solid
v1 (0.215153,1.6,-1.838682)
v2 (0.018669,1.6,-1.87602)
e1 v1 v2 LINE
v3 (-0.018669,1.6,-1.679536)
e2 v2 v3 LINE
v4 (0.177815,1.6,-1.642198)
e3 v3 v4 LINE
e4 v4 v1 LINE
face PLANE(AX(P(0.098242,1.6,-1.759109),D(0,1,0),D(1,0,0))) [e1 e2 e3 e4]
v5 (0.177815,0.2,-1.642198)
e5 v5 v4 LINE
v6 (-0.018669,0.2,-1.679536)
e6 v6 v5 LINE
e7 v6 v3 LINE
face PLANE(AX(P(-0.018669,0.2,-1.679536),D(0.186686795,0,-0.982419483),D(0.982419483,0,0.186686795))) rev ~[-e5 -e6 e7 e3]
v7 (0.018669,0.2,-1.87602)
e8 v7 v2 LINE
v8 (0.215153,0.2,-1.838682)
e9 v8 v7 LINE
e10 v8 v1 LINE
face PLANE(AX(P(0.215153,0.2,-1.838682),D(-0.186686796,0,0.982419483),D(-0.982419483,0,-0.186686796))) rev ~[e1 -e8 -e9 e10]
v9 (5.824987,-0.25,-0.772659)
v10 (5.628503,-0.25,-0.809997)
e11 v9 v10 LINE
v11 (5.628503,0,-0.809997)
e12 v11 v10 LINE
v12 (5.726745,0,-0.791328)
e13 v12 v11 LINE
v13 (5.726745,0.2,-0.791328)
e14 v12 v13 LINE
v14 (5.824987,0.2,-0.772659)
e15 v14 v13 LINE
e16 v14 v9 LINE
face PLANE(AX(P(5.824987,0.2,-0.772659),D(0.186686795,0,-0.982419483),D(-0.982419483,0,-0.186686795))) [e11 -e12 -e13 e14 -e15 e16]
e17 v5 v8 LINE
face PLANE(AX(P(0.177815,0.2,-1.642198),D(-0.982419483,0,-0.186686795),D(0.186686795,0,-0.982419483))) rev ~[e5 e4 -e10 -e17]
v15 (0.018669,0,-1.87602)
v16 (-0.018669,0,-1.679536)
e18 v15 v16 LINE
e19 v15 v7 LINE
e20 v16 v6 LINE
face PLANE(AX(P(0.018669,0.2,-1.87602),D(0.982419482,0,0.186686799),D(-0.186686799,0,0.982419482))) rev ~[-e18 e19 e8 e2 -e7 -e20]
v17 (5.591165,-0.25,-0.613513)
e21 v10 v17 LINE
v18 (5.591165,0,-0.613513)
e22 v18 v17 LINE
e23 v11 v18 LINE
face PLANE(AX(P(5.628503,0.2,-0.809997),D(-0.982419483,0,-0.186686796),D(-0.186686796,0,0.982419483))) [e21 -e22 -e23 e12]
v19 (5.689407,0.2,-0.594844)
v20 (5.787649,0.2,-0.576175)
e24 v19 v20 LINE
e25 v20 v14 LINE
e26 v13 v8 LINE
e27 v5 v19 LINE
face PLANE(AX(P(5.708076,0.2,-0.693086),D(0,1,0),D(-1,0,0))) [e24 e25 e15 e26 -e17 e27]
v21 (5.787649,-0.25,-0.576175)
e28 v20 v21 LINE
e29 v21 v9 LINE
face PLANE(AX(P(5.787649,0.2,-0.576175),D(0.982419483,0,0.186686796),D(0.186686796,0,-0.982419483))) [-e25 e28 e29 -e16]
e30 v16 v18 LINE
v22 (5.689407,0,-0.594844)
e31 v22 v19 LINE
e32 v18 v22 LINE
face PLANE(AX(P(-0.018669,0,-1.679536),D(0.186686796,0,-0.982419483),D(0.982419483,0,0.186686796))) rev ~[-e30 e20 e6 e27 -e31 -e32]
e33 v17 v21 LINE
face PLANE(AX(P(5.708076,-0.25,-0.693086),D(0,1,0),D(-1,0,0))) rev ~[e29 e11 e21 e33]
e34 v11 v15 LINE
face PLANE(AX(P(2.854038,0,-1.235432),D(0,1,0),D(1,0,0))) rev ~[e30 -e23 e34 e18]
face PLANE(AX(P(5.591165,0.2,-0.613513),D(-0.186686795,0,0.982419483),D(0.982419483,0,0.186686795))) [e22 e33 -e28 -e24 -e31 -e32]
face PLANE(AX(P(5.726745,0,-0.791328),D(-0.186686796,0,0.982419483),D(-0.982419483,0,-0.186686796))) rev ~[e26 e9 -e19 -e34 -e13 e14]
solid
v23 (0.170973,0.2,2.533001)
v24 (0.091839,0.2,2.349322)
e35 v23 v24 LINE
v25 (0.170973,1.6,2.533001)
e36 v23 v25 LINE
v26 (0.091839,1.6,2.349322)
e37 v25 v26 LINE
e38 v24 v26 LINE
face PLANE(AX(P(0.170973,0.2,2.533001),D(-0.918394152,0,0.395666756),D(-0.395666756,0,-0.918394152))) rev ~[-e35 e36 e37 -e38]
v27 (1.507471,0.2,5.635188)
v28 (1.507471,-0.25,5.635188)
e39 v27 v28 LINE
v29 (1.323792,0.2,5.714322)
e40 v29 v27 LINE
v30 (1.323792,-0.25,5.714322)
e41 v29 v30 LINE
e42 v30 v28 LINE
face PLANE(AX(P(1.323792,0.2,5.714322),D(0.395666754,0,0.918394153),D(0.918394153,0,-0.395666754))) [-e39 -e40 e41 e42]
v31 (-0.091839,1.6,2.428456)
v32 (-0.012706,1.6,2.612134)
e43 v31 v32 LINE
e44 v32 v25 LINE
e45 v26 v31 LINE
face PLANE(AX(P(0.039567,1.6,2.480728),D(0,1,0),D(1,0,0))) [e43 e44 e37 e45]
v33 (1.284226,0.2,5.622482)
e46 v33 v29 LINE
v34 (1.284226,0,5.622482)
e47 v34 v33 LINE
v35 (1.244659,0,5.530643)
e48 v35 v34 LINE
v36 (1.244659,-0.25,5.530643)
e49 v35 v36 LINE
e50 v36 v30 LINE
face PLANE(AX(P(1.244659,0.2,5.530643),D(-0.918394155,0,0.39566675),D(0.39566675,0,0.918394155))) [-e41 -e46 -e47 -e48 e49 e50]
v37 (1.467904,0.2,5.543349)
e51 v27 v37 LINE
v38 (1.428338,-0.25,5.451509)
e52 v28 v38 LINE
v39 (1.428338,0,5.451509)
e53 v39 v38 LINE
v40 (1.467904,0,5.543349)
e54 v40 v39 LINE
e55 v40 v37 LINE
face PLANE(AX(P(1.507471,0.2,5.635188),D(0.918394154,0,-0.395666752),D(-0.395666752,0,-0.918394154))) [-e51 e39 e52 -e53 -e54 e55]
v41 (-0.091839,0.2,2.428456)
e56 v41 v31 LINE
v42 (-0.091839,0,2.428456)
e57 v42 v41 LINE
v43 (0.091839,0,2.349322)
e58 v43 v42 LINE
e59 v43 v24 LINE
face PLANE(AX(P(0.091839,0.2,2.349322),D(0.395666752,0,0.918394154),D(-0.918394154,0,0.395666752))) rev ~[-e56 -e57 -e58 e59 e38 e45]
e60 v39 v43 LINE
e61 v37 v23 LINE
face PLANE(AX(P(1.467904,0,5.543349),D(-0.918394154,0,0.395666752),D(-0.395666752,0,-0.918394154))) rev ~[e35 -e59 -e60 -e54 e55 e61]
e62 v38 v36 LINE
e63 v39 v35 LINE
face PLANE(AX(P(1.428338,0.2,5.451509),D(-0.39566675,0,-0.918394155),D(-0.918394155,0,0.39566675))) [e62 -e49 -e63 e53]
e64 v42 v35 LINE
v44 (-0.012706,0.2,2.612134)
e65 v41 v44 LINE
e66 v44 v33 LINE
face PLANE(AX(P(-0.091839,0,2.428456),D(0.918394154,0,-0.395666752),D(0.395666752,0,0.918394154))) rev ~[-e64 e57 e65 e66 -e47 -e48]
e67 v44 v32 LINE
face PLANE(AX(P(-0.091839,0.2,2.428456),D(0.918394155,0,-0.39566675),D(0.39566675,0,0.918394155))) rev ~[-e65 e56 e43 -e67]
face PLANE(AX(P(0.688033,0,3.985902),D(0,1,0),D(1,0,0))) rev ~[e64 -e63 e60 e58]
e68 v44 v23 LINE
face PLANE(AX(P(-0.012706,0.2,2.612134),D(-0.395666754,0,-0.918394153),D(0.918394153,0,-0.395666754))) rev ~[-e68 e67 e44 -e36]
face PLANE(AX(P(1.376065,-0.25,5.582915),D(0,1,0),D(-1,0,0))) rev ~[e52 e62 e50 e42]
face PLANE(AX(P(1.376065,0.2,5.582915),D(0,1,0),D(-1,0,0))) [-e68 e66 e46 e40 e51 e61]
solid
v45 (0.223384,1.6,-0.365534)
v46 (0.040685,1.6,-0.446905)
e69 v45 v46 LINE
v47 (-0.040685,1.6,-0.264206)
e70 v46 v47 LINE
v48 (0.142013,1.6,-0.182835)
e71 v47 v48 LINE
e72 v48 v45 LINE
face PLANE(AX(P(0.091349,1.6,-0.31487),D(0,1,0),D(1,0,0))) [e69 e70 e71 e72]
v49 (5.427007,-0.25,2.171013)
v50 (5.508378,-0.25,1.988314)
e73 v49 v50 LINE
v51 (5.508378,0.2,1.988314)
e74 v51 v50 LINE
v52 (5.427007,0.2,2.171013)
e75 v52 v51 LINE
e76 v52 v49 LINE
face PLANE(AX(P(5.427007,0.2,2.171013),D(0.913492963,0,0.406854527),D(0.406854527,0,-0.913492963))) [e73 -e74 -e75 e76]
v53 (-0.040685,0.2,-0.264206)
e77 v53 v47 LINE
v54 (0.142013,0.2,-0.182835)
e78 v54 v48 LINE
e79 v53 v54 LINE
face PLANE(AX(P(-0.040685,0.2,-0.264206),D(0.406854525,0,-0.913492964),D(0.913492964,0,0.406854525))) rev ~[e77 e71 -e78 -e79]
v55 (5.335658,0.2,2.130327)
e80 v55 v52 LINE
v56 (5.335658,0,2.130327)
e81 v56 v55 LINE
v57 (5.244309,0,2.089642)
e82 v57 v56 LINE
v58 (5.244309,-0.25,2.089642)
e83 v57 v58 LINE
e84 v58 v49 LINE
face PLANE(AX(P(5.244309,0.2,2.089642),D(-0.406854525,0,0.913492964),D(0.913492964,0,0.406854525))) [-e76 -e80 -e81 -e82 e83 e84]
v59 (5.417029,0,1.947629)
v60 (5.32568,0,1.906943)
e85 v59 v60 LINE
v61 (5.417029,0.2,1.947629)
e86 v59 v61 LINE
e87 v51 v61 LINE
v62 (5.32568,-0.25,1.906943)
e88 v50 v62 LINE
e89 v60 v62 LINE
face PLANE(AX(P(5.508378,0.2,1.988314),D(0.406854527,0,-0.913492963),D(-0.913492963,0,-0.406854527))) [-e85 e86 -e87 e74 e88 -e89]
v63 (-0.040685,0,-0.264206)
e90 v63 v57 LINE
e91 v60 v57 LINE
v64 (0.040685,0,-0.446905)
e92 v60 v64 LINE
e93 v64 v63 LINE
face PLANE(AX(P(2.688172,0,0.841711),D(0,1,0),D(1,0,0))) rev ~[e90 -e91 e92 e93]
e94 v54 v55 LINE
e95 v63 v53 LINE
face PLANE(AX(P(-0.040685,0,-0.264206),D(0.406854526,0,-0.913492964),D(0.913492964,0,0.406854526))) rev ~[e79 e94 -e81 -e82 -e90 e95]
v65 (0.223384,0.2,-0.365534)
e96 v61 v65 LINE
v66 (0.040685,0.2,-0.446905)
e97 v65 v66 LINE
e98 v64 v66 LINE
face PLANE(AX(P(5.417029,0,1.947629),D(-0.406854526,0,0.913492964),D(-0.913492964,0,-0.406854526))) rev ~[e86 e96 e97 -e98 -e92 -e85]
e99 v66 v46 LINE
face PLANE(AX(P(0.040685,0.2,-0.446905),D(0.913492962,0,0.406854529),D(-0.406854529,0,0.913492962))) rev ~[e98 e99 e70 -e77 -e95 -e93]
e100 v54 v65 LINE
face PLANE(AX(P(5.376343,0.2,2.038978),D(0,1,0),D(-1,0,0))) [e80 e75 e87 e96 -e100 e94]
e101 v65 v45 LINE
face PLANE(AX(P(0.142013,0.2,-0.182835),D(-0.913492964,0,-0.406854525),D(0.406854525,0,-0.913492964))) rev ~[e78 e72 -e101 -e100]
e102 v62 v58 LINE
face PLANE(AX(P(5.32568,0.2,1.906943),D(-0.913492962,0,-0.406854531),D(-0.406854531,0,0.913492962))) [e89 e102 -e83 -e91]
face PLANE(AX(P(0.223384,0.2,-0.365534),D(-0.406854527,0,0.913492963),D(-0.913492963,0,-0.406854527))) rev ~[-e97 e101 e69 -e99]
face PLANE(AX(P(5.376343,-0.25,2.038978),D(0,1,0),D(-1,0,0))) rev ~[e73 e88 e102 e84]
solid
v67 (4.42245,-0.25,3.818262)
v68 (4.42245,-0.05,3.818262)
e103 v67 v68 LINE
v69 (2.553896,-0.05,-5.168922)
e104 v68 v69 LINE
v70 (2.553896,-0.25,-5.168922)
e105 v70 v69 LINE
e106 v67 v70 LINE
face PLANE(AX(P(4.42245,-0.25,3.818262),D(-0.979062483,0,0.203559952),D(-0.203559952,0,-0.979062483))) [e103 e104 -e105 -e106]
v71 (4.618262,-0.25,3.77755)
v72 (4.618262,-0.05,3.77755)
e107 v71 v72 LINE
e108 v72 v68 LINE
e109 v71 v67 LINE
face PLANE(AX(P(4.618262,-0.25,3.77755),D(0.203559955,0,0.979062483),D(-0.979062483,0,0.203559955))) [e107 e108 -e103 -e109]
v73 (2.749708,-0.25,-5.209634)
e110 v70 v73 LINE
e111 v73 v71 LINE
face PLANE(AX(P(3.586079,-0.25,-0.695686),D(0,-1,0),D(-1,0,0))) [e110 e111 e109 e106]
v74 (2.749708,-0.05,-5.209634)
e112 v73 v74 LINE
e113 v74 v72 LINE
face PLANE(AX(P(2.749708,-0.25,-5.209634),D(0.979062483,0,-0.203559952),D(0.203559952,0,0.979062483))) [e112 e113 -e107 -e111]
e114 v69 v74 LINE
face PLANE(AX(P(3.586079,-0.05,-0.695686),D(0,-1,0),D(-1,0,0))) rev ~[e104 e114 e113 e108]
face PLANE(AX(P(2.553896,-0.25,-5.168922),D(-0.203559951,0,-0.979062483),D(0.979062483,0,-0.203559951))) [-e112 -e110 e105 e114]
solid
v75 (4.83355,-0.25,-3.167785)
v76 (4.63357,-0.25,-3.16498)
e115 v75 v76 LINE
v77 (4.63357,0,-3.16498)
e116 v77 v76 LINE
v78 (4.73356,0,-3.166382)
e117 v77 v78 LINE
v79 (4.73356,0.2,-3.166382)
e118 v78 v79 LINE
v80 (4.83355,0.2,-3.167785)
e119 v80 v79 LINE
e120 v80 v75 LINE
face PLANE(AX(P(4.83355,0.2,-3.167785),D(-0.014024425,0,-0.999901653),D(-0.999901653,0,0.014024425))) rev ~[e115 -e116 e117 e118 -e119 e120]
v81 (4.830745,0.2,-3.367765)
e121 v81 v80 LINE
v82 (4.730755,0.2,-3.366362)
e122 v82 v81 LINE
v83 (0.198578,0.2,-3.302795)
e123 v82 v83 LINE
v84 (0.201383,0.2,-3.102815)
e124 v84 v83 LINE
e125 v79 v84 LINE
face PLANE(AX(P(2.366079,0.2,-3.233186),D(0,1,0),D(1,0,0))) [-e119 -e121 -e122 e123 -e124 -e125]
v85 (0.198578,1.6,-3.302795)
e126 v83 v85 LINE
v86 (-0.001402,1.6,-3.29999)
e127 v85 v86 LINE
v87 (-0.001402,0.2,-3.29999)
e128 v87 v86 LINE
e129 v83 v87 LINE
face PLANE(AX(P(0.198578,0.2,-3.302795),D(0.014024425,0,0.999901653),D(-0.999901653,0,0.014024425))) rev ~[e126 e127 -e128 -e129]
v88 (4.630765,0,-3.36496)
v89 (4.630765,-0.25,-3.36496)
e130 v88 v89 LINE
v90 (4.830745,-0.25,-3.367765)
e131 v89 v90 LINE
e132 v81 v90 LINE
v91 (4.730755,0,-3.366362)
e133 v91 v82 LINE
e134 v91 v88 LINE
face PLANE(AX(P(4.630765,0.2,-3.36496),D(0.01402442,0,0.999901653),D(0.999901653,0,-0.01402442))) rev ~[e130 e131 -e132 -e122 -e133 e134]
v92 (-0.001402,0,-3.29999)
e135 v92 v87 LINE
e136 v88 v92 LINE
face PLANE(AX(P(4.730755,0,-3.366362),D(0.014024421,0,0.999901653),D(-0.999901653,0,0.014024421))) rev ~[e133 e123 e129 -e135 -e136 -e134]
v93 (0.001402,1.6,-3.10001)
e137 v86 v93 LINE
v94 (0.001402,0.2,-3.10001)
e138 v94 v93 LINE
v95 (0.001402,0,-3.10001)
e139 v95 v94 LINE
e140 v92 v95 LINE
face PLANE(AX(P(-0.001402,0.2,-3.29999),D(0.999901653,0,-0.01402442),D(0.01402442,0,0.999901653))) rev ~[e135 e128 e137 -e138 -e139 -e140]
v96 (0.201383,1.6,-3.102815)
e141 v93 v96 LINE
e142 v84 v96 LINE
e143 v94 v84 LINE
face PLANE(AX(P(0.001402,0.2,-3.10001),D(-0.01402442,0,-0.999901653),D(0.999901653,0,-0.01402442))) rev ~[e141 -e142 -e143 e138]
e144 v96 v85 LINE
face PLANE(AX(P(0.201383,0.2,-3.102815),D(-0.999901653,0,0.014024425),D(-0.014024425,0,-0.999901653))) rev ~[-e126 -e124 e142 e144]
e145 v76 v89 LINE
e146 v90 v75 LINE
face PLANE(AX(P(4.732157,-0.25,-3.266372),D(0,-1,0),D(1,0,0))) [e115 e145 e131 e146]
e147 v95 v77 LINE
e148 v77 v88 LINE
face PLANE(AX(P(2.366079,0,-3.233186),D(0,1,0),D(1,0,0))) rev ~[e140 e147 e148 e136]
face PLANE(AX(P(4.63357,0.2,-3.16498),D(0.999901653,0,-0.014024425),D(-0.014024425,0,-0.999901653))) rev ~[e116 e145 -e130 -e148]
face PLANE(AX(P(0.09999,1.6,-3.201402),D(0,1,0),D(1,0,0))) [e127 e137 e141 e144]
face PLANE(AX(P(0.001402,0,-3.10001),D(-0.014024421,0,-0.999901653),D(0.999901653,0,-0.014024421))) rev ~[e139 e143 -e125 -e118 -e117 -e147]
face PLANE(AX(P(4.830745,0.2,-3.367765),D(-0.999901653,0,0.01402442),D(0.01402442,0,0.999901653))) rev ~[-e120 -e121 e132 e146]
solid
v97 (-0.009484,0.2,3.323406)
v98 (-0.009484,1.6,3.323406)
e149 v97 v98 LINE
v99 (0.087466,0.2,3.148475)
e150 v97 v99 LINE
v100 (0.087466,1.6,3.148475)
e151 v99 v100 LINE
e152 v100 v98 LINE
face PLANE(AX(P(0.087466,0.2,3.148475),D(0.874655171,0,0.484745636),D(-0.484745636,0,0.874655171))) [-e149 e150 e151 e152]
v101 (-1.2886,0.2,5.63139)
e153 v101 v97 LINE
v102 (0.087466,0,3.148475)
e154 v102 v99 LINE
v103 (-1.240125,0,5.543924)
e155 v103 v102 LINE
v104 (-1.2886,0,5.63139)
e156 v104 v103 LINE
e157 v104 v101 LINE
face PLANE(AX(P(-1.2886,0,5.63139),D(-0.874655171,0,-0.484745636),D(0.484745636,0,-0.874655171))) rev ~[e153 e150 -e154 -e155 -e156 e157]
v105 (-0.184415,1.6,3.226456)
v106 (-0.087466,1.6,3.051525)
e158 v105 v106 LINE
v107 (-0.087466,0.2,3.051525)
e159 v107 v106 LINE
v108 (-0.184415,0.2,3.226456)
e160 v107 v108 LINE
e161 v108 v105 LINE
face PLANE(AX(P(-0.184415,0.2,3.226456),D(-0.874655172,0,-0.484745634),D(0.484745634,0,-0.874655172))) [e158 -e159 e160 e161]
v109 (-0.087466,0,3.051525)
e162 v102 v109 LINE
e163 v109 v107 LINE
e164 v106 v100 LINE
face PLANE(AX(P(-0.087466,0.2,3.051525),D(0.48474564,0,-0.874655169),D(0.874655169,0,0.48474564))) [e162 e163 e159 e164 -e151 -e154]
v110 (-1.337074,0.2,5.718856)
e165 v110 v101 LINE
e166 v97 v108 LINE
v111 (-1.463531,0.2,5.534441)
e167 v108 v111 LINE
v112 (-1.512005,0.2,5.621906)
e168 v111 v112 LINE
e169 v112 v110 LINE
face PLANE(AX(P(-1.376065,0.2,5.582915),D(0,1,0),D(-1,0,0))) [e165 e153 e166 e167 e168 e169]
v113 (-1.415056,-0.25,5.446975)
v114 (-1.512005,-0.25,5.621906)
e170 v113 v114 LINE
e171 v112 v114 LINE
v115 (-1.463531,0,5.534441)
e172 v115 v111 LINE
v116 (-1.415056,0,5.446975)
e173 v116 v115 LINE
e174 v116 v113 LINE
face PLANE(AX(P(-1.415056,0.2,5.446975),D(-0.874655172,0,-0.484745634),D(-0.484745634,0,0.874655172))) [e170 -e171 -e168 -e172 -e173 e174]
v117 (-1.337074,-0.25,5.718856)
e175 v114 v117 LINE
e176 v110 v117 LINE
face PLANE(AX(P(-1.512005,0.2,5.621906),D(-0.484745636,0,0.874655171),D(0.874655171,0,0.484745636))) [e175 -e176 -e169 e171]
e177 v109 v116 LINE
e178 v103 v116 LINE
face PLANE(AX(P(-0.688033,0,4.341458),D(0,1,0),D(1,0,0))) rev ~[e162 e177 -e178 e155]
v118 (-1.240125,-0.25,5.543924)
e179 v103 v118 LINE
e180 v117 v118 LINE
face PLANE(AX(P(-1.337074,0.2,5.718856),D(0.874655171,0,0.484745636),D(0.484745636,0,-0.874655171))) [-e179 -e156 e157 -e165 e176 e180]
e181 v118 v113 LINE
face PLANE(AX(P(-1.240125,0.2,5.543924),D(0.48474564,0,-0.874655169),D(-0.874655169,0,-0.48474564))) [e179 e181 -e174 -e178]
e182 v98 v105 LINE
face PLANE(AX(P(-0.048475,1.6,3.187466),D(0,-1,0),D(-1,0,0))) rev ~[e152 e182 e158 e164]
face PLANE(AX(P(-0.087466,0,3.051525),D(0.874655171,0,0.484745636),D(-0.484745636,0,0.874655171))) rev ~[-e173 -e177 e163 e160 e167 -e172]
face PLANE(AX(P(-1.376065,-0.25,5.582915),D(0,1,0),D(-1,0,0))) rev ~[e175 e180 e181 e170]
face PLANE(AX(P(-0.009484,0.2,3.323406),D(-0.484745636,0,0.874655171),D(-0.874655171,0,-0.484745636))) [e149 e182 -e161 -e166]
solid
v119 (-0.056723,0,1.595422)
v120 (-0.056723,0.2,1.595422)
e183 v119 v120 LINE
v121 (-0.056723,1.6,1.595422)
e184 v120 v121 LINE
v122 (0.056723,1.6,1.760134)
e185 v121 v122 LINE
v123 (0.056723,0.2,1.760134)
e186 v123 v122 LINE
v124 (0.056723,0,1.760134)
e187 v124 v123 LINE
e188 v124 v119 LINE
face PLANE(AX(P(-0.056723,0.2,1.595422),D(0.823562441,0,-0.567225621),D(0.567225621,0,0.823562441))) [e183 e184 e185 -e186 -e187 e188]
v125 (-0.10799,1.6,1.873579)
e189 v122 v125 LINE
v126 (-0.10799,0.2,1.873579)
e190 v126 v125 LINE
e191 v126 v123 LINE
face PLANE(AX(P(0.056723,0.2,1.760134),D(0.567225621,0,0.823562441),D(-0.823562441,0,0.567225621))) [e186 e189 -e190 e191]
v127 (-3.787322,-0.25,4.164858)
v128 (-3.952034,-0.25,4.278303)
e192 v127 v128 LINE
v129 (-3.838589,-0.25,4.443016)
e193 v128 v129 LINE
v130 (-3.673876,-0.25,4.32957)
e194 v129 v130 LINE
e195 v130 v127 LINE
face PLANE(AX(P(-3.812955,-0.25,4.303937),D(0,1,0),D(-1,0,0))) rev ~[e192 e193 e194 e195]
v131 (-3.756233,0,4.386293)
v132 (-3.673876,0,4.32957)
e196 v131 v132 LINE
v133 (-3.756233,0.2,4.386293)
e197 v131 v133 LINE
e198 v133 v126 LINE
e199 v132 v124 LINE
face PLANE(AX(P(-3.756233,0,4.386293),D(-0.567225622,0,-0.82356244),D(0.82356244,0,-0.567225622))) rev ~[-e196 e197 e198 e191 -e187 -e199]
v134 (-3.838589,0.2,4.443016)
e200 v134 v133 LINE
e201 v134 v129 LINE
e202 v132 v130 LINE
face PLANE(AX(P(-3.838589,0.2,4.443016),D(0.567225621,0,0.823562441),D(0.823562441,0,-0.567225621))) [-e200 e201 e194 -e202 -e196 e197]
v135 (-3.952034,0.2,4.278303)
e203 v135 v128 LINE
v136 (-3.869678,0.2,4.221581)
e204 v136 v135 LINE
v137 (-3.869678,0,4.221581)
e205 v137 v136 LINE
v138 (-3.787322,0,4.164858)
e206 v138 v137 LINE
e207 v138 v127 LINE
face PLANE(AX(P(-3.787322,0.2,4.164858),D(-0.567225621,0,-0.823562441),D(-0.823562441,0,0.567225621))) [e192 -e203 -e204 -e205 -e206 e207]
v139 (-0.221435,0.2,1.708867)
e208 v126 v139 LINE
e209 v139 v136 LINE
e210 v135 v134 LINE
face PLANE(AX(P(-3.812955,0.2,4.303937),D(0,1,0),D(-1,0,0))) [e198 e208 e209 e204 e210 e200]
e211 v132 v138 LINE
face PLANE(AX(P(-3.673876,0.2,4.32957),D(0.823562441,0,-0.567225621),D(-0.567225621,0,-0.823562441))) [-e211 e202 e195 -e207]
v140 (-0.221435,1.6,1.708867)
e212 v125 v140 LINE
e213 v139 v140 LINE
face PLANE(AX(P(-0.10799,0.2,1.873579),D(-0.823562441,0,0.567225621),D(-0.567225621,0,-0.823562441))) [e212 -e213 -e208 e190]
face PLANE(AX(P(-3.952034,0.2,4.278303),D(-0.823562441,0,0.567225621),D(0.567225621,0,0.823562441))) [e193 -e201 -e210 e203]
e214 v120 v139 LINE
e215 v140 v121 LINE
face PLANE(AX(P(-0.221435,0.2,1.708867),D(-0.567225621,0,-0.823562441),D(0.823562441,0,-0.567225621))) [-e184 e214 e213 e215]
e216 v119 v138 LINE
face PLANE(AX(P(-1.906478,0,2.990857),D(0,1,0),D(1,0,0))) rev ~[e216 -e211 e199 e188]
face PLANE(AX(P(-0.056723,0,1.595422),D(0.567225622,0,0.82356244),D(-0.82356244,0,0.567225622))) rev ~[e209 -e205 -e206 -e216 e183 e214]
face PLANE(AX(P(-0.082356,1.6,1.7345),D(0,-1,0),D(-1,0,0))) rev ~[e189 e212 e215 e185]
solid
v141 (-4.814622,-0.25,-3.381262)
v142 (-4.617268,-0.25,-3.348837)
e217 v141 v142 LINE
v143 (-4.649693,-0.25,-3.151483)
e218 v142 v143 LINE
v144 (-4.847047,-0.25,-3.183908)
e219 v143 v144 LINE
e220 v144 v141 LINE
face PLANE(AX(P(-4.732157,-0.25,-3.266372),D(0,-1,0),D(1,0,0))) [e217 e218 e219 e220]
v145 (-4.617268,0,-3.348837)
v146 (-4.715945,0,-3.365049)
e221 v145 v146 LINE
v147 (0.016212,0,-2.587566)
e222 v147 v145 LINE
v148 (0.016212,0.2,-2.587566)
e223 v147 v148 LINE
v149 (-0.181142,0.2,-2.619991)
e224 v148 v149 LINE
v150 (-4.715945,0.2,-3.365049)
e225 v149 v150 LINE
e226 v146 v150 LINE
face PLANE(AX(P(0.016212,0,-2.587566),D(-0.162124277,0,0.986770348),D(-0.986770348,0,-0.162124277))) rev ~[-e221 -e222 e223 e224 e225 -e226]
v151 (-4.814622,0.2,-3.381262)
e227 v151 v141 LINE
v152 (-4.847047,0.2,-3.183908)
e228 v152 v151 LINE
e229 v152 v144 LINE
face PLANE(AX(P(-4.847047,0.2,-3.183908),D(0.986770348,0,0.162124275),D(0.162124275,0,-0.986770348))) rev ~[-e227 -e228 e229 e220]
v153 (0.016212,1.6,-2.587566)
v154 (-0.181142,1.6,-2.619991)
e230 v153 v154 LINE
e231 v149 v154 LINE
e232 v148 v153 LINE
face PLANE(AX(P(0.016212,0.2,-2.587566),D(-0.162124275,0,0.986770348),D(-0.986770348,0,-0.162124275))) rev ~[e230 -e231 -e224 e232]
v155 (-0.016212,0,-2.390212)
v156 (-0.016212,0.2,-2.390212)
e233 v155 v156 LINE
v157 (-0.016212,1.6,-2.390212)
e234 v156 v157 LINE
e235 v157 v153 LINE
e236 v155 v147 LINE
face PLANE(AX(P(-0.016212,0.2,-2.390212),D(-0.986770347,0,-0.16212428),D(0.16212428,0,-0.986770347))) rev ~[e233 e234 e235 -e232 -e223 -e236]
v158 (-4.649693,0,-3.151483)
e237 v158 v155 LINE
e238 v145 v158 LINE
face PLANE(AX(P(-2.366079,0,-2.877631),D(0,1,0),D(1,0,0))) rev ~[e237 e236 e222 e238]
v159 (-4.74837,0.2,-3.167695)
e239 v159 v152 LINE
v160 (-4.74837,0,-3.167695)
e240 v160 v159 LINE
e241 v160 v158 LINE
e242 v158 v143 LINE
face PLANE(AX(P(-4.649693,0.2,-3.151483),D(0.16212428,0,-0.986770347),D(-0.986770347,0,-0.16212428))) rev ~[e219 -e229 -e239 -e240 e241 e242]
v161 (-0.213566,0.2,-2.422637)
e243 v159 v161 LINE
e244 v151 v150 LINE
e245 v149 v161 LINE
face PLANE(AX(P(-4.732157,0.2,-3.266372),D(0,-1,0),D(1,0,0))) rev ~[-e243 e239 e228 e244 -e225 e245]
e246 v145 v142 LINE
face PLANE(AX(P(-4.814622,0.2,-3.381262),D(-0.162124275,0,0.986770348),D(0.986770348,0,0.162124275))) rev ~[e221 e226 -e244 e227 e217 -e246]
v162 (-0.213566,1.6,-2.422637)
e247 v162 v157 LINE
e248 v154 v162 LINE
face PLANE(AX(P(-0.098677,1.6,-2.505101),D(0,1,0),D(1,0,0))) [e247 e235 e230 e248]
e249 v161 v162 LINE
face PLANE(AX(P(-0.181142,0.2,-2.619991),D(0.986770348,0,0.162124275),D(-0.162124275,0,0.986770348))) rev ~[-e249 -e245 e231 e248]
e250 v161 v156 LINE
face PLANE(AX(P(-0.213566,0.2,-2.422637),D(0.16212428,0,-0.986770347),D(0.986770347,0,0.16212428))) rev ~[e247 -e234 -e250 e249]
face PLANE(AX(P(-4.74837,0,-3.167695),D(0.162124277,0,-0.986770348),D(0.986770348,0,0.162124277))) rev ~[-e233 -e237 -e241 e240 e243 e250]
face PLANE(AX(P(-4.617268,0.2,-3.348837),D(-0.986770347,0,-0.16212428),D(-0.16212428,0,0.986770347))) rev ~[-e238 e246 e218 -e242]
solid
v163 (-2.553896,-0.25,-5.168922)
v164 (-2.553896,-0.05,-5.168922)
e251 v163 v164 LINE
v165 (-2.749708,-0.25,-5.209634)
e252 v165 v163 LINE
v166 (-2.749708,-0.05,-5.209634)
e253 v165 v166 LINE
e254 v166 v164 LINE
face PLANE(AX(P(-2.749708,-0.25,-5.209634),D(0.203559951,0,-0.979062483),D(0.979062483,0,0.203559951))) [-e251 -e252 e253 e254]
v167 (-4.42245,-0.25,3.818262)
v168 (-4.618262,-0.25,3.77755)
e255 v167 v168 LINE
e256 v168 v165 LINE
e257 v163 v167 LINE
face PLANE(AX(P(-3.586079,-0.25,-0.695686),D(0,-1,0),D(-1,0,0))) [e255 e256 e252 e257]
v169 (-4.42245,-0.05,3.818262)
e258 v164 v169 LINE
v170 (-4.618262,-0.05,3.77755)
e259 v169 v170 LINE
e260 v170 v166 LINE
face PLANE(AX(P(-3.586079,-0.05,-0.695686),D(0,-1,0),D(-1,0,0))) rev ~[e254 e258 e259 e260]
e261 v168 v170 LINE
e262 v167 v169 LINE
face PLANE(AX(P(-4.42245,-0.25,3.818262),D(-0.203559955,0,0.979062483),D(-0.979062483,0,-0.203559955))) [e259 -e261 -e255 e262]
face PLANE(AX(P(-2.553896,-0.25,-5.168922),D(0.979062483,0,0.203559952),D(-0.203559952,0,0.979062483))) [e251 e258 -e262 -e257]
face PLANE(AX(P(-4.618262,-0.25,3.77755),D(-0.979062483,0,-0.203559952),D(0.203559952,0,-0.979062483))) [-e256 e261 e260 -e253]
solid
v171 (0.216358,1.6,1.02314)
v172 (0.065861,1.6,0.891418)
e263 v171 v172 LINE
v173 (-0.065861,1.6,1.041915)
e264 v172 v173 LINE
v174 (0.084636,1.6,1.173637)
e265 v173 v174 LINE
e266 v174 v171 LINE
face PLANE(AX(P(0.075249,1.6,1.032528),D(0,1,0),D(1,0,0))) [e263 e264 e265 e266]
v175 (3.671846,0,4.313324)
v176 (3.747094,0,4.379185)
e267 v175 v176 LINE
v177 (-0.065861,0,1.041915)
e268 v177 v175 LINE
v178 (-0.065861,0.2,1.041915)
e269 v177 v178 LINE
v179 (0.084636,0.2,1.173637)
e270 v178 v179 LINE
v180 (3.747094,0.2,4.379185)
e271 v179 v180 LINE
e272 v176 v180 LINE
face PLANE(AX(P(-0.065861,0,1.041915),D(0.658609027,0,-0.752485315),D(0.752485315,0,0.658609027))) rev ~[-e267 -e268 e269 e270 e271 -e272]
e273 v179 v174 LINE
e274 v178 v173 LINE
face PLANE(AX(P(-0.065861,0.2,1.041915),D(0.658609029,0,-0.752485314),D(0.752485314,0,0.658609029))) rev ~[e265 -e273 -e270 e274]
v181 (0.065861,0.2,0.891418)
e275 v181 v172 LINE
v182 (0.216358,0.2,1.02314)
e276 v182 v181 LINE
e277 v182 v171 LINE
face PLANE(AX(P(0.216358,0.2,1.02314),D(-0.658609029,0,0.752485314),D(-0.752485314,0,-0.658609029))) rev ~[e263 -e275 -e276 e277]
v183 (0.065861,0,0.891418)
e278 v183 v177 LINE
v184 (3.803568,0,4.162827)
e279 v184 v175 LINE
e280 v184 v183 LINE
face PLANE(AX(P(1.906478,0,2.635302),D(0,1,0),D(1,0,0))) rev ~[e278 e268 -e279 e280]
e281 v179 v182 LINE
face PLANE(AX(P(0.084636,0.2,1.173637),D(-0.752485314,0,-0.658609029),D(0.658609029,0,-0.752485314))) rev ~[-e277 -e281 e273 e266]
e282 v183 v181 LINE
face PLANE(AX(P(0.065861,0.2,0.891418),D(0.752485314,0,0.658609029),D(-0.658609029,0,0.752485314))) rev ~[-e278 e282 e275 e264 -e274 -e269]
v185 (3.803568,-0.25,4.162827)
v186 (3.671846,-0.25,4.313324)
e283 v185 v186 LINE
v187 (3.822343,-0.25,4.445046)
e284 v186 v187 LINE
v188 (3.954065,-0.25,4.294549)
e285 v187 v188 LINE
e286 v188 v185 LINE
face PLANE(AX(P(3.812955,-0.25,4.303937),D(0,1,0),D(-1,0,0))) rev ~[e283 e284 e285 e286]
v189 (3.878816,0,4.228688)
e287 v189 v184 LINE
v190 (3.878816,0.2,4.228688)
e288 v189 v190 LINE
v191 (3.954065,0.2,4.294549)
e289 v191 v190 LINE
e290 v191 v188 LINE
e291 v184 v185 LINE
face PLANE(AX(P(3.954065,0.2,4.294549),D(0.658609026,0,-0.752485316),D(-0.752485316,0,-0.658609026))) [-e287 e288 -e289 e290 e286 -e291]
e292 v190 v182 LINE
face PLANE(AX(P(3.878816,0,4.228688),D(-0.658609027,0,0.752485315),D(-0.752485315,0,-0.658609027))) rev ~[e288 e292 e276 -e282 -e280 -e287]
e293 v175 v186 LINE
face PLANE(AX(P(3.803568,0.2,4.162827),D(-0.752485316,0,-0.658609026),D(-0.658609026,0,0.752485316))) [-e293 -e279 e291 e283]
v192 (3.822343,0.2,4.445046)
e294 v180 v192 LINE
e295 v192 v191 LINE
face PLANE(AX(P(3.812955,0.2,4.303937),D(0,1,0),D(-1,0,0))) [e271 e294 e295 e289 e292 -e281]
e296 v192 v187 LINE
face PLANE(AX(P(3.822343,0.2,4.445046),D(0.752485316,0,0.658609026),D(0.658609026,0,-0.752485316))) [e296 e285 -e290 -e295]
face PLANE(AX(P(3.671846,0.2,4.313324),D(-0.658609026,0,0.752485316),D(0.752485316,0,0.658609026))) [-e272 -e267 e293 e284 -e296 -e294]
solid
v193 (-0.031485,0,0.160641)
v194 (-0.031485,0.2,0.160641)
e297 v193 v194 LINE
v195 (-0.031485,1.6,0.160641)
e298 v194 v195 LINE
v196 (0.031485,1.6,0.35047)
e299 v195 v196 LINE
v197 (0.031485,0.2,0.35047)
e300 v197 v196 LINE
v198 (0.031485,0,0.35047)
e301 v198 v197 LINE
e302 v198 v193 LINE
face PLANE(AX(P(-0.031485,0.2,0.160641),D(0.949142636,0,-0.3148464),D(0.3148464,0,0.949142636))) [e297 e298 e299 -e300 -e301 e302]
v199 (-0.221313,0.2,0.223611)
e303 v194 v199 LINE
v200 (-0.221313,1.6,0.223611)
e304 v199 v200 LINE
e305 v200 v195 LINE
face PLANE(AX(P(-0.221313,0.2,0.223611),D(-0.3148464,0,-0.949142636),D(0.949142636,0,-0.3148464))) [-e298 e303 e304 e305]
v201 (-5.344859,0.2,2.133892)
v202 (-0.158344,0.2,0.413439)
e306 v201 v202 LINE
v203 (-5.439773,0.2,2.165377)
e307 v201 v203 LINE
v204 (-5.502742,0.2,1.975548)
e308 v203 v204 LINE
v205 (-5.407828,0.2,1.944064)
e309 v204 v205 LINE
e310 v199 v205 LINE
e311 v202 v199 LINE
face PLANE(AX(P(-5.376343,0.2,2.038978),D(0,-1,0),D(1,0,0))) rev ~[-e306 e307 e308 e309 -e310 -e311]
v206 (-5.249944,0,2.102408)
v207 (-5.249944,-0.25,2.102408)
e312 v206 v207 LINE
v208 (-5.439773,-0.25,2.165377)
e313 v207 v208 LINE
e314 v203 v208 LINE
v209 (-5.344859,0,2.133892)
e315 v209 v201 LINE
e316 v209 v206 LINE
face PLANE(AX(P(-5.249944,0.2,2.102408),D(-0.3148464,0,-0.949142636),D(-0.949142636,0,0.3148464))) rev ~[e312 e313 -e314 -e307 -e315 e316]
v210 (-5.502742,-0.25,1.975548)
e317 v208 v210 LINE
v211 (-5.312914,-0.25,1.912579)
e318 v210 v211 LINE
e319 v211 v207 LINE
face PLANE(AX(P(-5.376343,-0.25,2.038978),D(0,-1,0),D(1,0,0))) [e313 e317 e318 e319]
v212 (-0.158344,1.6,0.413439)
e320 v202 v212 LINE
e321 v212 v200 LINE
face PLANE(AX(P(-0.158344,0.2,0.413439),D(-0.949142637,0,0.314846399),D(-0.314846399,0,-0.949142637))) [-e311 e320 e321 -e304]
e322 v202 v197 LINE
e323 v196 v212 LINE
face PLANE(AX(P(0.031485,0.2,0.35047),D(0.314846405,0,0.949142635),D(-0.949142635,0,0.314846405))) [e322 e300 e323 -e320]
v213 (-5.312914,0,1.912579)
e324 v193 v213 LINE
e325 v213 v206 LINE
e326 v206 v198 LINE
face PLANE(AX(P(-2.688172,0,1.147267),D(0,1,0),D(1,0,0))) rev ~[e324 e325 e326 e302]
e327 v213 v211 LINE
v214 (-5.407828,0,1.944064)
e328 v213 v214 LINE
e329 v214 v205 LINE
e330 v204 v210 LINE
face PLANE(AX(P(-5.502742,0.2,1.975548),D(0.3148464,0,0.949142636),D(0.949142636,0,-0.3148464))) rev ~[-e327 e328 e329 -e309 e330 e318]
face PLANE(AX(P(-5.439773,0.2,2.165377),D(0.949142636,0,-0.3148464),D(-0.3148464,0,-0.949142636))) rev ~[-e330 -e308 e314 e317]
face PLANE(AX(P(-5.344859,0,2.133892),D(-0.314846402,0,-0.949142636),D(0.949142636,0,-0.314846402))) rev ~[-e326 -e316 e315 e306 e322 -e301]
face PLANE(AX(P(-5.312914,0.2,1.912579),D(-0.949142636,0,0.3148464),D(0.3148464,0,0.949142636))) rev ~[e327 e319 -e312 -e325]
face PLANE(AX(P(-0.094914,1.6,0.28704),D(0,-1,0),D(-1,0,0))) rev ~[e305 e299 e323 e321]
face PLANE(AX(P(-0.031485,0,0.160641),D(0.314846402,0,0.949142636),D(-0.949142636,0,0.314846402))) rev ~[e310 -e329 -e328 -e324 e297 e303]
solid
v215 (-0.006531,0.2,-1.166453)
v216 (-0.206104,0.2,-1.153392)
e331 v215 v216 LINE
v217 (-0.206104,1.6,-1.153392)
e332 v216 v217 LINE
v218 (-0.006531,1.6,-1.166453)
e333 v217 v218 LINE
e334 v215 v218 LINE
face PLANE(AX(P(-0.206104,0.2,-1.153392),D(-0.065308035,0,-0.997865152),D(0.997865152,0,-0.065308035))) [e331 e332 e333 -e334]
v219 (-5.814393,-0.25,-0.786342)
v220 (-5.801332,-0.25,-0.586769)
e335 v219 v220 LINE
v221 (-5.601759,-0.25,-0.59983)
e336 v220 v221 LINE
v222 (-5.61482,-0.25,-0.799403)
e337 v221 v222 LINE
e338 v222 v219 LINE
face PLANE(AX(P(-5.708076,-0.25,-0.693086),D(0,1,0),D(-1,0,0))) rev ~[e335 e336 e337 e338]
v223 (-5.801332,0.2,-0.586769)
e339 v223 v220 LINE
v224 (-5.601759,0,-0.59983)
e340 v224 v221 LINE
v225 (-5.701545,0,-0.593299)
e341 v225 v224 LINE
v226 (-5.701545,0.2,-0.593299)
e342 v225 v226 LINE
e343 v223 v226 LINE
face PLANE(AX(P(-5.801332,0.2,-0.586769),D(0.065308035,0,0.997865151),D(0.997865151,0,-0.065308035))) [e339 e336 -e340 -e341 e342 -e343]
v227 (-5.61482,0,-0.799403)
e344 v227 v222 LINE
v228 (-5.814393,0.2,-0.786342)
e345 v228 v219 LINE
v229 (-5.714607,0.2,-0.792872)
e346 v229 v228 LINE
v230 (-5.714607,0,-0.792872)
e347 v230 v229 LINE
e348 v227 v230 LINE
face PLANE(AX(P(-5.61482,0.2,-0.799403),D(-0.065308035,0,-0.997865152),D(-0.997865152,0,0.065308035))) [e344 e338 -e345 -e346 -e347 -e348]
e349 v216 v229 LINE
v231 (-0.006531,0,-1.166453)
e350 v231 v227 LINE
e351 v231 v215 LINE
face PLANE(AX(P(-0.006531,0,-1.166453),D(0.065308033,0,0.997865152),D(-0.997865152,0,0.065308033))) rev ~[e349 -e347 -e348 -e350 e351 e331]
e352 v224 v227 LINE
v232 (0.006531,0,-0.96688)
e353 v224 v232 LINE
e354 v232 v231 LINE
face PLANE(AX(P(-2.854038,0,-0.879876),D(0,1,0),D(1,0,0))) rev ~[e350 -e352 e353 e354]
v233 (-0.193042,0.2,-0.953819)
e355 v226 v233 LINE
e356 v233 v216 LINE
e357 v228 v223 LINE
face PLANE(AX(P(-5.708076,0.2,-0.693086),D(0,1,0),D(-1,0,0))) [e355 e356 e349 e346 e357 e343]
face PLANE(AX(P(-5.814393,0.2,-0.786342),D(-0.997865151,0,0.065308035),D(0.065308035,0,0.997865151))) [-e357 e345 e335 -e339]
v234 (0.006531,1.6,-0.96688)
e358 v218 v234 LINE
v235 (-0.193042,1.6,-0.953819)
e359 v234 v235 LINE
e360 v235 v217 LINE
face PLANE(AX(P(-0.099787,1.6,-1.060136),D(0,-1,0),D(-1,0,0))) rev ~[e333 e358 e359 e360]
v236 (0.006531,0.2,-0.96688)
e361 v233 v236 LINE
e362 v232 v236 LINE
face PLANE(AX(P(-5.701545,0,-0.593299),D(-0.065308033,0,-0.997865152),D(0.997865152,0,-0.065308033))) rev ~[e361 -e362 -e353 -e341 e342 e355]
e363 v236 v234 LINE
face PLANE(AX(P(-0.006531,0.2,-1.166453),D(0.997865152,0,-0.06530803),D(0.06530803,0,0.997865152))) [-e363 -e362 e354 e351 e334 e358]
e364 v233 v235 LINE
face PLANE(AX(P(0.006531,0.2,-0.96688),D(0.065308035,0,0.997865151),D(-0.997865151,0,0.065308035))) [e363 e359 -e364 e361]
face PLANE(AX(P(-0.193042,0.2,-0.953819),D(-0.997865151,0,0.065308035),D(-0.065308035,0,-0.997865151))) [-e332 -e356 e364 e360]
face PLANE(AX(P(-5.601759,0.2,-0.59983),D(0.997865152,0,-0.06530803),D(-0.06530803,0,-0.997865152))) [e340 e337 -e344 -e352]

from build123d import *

# Parameters (mm, degrees)
EXTRUDE_THIN1_DEPTH    = 0.2
EXTRUDE_THIN1_2_DEPTH  = 0.2
EXTRUDE_THIN1_3_DEPTH  = 0.2
EXTRUDE_THIN1_4_DEPTH  = 0.2
EXTRUDE_THIN1_5_DEPTH  = 0.2
EXTRUDE_THIN1_6_DEPTH  = 0.2
EXTRUDE_THIN1_7_DEPTH  = 0.2
EXTRUDE_THIN1_8_DEPTH  = 0.2
EXTRUDE_THIN1_9_DEPTH  = 0.2
EXTRUDE_THIN1_10_DEPTH = 0.2
BOSS_EXTRUDE1_DEPTH    = 1.4
BOSS_EXTRUDE3_START    = -0.2
BOSS_EXTRUDE3_DEPTH    = 0.45
BOSS_EXTRUDE4_DEPTH    = 0.2
BOSS_EXTRUDE4_2_DEPTH  = 0.2


with BuildPart() as part:
    # Sketch2 → Extrude-Thin1 (new body)
    with BuildSketch(Plane(origin=(0, 0, 0), x_dir=(1, 0, 0), z_dir=(0, 1, 0))):
        Polygon((-0.03148464, -0.160641292), (-5.407828036, -1.944063837), (-5.344858755, -2.133892364), (0.03148464, -0.350469819), align=None)
    extrude(amount=EXTRUDE_THIN1_DEPTH)



with BuildPart() as body_2:
    # Sketch2 → Extrude-Thin1 2 (new body)
    with BuildSketch(Plane(origin=(0, 0, 0), x_dir=(1, 0, 0), z_dir=(0, 1, 0))):
        Polygon((0.001402442, 3.100009835), (4.733559671, 3.166382128), (4.730754787, 3.366362459), (-0.001402442, 3.299990165), align=None)
    extrude(amount=EXTRUDE_THIN1_2_DEPTH)


with BuildPart() as body_3:
    # Sketch2 → Extrude-Thin1 3 (new body)
    with BuildSketch(Plane(origin=(0, 0, 0), x_dir=(1, 0, 0), z_dir=(0, 1, 0))):
        Polygon((-0.056722562, -1.595421534), (-3.869677847, -4.221580558), (-3.756232723, -4.386293046), (0.056722562, -1.760134022), align=None)
    extrude(amount=EXTRUDE_THIN1_3_DEPTH)


with BuildPart() as body_4:
    # Sketch2 → Extrude-Thin1 4 (new body)
    with BuildSketch(Plane(origin=(0, 0, 0), x_dir=(1, 0, 0), z_dir=(0, 1, 0))):
        Polygon((-0.091839415, -2.428455564), (1.284225654, -5.622482125), (1.467904485, -5.543348775), (0.091839415, -2.349322214), align=None)
    extrude(amount=EXTRUDE_THIN1_4_DEPTH)


with BuildPart() as body_5:
    # Sketch2 → Extrude-Thin1 5 (new body)
    with BuildSketch(Plane(origin=(0, 0, 0), x_dir=(1, 0, 0), z_dir=(0, 1, 0))):
        Polygon((-0.01866868, 1.679535829), (5.689407347, 0.594843963), (5.726744706, 0.79132786), (0.01866868, 1.876019726), align=None)
    extrude(amount=EXTRUDE_THIN1_5_DEPTH)


with BuildPart() as body_6:
    # Sketch2 → Extrude-Thin1 6 (new body)
    with BuildSketch(Plane(origin=(0, 0, 0), x_dir=(1, 0, 0), z_dir=(0, 1, 0))):
        Polygon((-0.040685453, 0.264206259), (5.335657943, -2.130327397), (5.417028848, -1.947628804), (0.040685453, 0.446904852), align=None)
    extrude(amount=EXTRUDE_THIN1_6_DEPTH)


with BuildPart() as body_7:
    # Sketch2 → Extrude-Thin1 7 (new body)
    with BuildSketch(Plane(origin=(0, 0, 0), x_dir=(1, 0, 0), z_dir=(0, 1, 0))):
        Polygon((-0.065860903, -1.041915198), (3.747094382, -4.379185334), (3.878816188, -4.22868827), (0.065860903, -0.891418135), align=None)
    extrude(amount=EXTRUDE_THIN1_7_DEPTH)


with BuildPart() as body_8:
    # Sketch2 → Extrude-Thin1 8 (new body)
    with BuildSketch(Plane(origin=(0, 0, 0), x_dir=(1, 0, 0), z_dir=(0, 1, 0))):
        Polygon((-0.087465517, -3.051525436), (-1.463530587, -5.534440887), (-1.288599553, -5.631390014), (0.087465517, -3.148474564), align=None)
    extrude(amount=EXTRUDE_THIN1_8_DEPTH)


with BuildPart() as body_9:
    # Sketch2 → Extrude-Thin1 9 (new body)
    with BuildSketch(Plane(origin=(0, 0, 0), x_dir=(1, 0, 0), z_dir=(0, 1, 0))):
        Polygon((0.016212428, 2.587565924), (-4.715944801, 3.365049328), (-4.748369657, 3.167695259), (-0.016212428, 2.390211854), align=None)
    extrude(amount=EXTRUDE_THIN1_9_DEPTH)


with BuildPart() as body_10:
    # Sketch2 → Extrude-Thin1 10 (new body)
    with BuildSketch(Plane(origin=(0, 0, 0), x_dir=(1, 0, 0), z_dir=(0, 1, 0))):
        Polygon((-0.006530803, 1.166453182), (-5.714606829, 0.792872427), (-5.701545223, 0.593299396), (0.006530803, 0.966880152), align=None)
    extrude(amount=EXTRUDE_THIN1_10_DEPTH)


with BuildPart() as part_1:
    add(part.part)

    add(body_2.part)  # Boss-Extrude1 merges body 2

    add(body_3.part)  # Boss-Extrude1 merges body 3

    add(body_4.part)  # Boss-Extrude1 merges body 4

    add(body_5.part)  # Boss-Extrude1 merges body 5

    add(body_6.part)  # Boss-Extrude1 merges body 6

    add(body_7.part)  # Boss-Extrude1 merges body 7

    add(body_8.part)  # Boss-Extrude1 merges body 8

    add(body_9.part)  # Boss-Extrude1 merges body 9

    add(body_10.part)  # Boss-Extrude1 merges body 10
    # Sketch3 → Boss-Extrude1 (add)
    with BuildSketch(Plane(origin=(0, 0.2, 0), x_dir=(1, 0, 0), z_dir=(0, 1, 0))):
        Polygon((-0.001402442, 3.299990165), (0.001402442, 3.100009835), (0.201382773, 3.102814719), (0.198577888, 3.30279505), align=None)
        Polygon((0.016212428, 2.587565924), (-0.181141642, 2.619990779), (-0.213566497, 2.42263671), (-0.016212428, 2.390211854), align=None)
        Polygon((0.01866868, 1.876019726), (-0.01866868, 1.679535829), (0.177815217, 1.64219847), (0.215152576, 1.838682367), align=None)
        Polygon((-0.006530803, 1.166453182), (0.006530803, 0.966880152), (-0.193042227, 0.953818545), (-0.206103834, 1.153391575), align=None)
        Polygon((0.040685453, 0.446904852), (-0.040685453, 0.264206259), (0.14201314, 0.182835354), (0.223384045, 0.365533947), align=None)
        Polygon((-0.03148464, -0.160641292), (0.03148464, -0.350469819), (-0.158343887, -0.4134391), (-0.221313167, -0.223610572), align=None)
        Polygon((0.065860903, -0.891418135), (-0.065860903, -1.041915198), (0.08463616, -1.173637004), (0.216357966, -1.023139941), align=None)
        Polygon((-0.056722562, -1.595421534), (0.056722562, -1.760134022), (-0.107989926, -1.873579146), (-0.22143505, -1.708866658), align=None)
        Polygon((0.091839415, -2.349322214), (-0.091839415, -2.428455564), (-0.012706065, -2.612134395), (0.170972766, -2.533001044), align=None)
        Polygon((-0.087465517, -3.051525436), (0.087465517, -3.148474564), (-0.00948361, -3.323405598), (-0.184414644, -3.226456471), align=None)
    extrude(amount=BOSS_EXTRUDE1_DEPTH)

    # Sketch4 → Boss-Extrude3 (add)
    with BuildSketch(Plane.XZ.offset(BOSS_EXTRUDE3_START)):
        Polygon((4.633569506, -3.164979686), (4.630764621, -3.364960017), (4.830744952, -3.367764901), (4.833549836, -3.167784571), align=None)
        Polygon((5.787649295, -0.576175284), (5.824986654, -0.77265918), (5.628502757, -0.809996539), (5.591165398, -0.613512643), align=None)
        Polygon((5.427007239, 2.171012849), (5.508378144, 1.988314257), (5.325679552, 1.906943352), (5.244308646, 2.089641944), align=None)
        Polygon((3.822342914, 4.445046236), (3.954064719, 4.294549173), (3.803567656, 4.162827368), (3.671845851, 4.313324431), align=None)
        Polygon((1.323792329, 5.714321541), (1.50747116, 5.63518819), (1.42833781, 5.45150936), (1.244658979, 5.53064271), align=None)
        Polygon((-1.51200515, 5.621906404), (-1.337074116, 5.718855531), (-1.240124989, 5.543924497), (-1.415056023, 5.446975369), align=None)
        Polygon((-3.952034091, 4.27830312), (-3.838588967, 4.443015608), (-3.673876479, 4.329570484), (-3.787321603, 4.164857996), align=None)
        Polygon((-5.439773019, 2.165377004), (-5.502742299, 1.975548477), (-5.312913772, 1.912579197), (-5.249944492, 2.102407724), align=None)
        Polygon((-5.814393345, -0.786341623), (-5.801331738, -0.586768593), (-5.601758708, -0.5998302), (-5.614820314, -0.79940323), align=None)
        Polygon((-4.847046691, -3.183907687), (-4.814621836, -3.381261756), (-4.617267766, -3.348836901), (-4.649692622, -3.151482831), align=None)
    extrude(amount=BOSS_EXTRUDE3_DEPTH)


with BuildPart() as body_2_2:
    # Sketch5 → Boss-Extrude4 (new body)
    with BuildSketch(Plane(origin=(0, -0.25, 0), x_dir=(1, 0, 0), z_dir=(0, 1, 0))):
        Polygon((4.422449747, -3.818262244), (2.553895996, 5.168922401), (2.749708492, 5.209634391), (4.618262244, -3.777550253), align=None)
    extrude(amount=BOSS_EXTRUDE4_DEPTH)


with BuildPart() as body_3_2:
    # Sketch5 → Boss-Extrude4 2 (new body)
    with BuildSketch(Plane(origin=(0, -0.25, 0), x_dir=(1, 0, 0), z_dir=(0, 1, 0))):
        Polygon((-4.618262244, -3.777550253), (-2.749708492, 5.209634391), (-2.553895996, 5.168922401), (-4.422449747, -3.818262244), align=None)
    extrude(amount=BOSS_EXTRUDE4_2_DEPTH)


solid = Compound([part_1.part, body_2_2.part, body_3_2.part])
